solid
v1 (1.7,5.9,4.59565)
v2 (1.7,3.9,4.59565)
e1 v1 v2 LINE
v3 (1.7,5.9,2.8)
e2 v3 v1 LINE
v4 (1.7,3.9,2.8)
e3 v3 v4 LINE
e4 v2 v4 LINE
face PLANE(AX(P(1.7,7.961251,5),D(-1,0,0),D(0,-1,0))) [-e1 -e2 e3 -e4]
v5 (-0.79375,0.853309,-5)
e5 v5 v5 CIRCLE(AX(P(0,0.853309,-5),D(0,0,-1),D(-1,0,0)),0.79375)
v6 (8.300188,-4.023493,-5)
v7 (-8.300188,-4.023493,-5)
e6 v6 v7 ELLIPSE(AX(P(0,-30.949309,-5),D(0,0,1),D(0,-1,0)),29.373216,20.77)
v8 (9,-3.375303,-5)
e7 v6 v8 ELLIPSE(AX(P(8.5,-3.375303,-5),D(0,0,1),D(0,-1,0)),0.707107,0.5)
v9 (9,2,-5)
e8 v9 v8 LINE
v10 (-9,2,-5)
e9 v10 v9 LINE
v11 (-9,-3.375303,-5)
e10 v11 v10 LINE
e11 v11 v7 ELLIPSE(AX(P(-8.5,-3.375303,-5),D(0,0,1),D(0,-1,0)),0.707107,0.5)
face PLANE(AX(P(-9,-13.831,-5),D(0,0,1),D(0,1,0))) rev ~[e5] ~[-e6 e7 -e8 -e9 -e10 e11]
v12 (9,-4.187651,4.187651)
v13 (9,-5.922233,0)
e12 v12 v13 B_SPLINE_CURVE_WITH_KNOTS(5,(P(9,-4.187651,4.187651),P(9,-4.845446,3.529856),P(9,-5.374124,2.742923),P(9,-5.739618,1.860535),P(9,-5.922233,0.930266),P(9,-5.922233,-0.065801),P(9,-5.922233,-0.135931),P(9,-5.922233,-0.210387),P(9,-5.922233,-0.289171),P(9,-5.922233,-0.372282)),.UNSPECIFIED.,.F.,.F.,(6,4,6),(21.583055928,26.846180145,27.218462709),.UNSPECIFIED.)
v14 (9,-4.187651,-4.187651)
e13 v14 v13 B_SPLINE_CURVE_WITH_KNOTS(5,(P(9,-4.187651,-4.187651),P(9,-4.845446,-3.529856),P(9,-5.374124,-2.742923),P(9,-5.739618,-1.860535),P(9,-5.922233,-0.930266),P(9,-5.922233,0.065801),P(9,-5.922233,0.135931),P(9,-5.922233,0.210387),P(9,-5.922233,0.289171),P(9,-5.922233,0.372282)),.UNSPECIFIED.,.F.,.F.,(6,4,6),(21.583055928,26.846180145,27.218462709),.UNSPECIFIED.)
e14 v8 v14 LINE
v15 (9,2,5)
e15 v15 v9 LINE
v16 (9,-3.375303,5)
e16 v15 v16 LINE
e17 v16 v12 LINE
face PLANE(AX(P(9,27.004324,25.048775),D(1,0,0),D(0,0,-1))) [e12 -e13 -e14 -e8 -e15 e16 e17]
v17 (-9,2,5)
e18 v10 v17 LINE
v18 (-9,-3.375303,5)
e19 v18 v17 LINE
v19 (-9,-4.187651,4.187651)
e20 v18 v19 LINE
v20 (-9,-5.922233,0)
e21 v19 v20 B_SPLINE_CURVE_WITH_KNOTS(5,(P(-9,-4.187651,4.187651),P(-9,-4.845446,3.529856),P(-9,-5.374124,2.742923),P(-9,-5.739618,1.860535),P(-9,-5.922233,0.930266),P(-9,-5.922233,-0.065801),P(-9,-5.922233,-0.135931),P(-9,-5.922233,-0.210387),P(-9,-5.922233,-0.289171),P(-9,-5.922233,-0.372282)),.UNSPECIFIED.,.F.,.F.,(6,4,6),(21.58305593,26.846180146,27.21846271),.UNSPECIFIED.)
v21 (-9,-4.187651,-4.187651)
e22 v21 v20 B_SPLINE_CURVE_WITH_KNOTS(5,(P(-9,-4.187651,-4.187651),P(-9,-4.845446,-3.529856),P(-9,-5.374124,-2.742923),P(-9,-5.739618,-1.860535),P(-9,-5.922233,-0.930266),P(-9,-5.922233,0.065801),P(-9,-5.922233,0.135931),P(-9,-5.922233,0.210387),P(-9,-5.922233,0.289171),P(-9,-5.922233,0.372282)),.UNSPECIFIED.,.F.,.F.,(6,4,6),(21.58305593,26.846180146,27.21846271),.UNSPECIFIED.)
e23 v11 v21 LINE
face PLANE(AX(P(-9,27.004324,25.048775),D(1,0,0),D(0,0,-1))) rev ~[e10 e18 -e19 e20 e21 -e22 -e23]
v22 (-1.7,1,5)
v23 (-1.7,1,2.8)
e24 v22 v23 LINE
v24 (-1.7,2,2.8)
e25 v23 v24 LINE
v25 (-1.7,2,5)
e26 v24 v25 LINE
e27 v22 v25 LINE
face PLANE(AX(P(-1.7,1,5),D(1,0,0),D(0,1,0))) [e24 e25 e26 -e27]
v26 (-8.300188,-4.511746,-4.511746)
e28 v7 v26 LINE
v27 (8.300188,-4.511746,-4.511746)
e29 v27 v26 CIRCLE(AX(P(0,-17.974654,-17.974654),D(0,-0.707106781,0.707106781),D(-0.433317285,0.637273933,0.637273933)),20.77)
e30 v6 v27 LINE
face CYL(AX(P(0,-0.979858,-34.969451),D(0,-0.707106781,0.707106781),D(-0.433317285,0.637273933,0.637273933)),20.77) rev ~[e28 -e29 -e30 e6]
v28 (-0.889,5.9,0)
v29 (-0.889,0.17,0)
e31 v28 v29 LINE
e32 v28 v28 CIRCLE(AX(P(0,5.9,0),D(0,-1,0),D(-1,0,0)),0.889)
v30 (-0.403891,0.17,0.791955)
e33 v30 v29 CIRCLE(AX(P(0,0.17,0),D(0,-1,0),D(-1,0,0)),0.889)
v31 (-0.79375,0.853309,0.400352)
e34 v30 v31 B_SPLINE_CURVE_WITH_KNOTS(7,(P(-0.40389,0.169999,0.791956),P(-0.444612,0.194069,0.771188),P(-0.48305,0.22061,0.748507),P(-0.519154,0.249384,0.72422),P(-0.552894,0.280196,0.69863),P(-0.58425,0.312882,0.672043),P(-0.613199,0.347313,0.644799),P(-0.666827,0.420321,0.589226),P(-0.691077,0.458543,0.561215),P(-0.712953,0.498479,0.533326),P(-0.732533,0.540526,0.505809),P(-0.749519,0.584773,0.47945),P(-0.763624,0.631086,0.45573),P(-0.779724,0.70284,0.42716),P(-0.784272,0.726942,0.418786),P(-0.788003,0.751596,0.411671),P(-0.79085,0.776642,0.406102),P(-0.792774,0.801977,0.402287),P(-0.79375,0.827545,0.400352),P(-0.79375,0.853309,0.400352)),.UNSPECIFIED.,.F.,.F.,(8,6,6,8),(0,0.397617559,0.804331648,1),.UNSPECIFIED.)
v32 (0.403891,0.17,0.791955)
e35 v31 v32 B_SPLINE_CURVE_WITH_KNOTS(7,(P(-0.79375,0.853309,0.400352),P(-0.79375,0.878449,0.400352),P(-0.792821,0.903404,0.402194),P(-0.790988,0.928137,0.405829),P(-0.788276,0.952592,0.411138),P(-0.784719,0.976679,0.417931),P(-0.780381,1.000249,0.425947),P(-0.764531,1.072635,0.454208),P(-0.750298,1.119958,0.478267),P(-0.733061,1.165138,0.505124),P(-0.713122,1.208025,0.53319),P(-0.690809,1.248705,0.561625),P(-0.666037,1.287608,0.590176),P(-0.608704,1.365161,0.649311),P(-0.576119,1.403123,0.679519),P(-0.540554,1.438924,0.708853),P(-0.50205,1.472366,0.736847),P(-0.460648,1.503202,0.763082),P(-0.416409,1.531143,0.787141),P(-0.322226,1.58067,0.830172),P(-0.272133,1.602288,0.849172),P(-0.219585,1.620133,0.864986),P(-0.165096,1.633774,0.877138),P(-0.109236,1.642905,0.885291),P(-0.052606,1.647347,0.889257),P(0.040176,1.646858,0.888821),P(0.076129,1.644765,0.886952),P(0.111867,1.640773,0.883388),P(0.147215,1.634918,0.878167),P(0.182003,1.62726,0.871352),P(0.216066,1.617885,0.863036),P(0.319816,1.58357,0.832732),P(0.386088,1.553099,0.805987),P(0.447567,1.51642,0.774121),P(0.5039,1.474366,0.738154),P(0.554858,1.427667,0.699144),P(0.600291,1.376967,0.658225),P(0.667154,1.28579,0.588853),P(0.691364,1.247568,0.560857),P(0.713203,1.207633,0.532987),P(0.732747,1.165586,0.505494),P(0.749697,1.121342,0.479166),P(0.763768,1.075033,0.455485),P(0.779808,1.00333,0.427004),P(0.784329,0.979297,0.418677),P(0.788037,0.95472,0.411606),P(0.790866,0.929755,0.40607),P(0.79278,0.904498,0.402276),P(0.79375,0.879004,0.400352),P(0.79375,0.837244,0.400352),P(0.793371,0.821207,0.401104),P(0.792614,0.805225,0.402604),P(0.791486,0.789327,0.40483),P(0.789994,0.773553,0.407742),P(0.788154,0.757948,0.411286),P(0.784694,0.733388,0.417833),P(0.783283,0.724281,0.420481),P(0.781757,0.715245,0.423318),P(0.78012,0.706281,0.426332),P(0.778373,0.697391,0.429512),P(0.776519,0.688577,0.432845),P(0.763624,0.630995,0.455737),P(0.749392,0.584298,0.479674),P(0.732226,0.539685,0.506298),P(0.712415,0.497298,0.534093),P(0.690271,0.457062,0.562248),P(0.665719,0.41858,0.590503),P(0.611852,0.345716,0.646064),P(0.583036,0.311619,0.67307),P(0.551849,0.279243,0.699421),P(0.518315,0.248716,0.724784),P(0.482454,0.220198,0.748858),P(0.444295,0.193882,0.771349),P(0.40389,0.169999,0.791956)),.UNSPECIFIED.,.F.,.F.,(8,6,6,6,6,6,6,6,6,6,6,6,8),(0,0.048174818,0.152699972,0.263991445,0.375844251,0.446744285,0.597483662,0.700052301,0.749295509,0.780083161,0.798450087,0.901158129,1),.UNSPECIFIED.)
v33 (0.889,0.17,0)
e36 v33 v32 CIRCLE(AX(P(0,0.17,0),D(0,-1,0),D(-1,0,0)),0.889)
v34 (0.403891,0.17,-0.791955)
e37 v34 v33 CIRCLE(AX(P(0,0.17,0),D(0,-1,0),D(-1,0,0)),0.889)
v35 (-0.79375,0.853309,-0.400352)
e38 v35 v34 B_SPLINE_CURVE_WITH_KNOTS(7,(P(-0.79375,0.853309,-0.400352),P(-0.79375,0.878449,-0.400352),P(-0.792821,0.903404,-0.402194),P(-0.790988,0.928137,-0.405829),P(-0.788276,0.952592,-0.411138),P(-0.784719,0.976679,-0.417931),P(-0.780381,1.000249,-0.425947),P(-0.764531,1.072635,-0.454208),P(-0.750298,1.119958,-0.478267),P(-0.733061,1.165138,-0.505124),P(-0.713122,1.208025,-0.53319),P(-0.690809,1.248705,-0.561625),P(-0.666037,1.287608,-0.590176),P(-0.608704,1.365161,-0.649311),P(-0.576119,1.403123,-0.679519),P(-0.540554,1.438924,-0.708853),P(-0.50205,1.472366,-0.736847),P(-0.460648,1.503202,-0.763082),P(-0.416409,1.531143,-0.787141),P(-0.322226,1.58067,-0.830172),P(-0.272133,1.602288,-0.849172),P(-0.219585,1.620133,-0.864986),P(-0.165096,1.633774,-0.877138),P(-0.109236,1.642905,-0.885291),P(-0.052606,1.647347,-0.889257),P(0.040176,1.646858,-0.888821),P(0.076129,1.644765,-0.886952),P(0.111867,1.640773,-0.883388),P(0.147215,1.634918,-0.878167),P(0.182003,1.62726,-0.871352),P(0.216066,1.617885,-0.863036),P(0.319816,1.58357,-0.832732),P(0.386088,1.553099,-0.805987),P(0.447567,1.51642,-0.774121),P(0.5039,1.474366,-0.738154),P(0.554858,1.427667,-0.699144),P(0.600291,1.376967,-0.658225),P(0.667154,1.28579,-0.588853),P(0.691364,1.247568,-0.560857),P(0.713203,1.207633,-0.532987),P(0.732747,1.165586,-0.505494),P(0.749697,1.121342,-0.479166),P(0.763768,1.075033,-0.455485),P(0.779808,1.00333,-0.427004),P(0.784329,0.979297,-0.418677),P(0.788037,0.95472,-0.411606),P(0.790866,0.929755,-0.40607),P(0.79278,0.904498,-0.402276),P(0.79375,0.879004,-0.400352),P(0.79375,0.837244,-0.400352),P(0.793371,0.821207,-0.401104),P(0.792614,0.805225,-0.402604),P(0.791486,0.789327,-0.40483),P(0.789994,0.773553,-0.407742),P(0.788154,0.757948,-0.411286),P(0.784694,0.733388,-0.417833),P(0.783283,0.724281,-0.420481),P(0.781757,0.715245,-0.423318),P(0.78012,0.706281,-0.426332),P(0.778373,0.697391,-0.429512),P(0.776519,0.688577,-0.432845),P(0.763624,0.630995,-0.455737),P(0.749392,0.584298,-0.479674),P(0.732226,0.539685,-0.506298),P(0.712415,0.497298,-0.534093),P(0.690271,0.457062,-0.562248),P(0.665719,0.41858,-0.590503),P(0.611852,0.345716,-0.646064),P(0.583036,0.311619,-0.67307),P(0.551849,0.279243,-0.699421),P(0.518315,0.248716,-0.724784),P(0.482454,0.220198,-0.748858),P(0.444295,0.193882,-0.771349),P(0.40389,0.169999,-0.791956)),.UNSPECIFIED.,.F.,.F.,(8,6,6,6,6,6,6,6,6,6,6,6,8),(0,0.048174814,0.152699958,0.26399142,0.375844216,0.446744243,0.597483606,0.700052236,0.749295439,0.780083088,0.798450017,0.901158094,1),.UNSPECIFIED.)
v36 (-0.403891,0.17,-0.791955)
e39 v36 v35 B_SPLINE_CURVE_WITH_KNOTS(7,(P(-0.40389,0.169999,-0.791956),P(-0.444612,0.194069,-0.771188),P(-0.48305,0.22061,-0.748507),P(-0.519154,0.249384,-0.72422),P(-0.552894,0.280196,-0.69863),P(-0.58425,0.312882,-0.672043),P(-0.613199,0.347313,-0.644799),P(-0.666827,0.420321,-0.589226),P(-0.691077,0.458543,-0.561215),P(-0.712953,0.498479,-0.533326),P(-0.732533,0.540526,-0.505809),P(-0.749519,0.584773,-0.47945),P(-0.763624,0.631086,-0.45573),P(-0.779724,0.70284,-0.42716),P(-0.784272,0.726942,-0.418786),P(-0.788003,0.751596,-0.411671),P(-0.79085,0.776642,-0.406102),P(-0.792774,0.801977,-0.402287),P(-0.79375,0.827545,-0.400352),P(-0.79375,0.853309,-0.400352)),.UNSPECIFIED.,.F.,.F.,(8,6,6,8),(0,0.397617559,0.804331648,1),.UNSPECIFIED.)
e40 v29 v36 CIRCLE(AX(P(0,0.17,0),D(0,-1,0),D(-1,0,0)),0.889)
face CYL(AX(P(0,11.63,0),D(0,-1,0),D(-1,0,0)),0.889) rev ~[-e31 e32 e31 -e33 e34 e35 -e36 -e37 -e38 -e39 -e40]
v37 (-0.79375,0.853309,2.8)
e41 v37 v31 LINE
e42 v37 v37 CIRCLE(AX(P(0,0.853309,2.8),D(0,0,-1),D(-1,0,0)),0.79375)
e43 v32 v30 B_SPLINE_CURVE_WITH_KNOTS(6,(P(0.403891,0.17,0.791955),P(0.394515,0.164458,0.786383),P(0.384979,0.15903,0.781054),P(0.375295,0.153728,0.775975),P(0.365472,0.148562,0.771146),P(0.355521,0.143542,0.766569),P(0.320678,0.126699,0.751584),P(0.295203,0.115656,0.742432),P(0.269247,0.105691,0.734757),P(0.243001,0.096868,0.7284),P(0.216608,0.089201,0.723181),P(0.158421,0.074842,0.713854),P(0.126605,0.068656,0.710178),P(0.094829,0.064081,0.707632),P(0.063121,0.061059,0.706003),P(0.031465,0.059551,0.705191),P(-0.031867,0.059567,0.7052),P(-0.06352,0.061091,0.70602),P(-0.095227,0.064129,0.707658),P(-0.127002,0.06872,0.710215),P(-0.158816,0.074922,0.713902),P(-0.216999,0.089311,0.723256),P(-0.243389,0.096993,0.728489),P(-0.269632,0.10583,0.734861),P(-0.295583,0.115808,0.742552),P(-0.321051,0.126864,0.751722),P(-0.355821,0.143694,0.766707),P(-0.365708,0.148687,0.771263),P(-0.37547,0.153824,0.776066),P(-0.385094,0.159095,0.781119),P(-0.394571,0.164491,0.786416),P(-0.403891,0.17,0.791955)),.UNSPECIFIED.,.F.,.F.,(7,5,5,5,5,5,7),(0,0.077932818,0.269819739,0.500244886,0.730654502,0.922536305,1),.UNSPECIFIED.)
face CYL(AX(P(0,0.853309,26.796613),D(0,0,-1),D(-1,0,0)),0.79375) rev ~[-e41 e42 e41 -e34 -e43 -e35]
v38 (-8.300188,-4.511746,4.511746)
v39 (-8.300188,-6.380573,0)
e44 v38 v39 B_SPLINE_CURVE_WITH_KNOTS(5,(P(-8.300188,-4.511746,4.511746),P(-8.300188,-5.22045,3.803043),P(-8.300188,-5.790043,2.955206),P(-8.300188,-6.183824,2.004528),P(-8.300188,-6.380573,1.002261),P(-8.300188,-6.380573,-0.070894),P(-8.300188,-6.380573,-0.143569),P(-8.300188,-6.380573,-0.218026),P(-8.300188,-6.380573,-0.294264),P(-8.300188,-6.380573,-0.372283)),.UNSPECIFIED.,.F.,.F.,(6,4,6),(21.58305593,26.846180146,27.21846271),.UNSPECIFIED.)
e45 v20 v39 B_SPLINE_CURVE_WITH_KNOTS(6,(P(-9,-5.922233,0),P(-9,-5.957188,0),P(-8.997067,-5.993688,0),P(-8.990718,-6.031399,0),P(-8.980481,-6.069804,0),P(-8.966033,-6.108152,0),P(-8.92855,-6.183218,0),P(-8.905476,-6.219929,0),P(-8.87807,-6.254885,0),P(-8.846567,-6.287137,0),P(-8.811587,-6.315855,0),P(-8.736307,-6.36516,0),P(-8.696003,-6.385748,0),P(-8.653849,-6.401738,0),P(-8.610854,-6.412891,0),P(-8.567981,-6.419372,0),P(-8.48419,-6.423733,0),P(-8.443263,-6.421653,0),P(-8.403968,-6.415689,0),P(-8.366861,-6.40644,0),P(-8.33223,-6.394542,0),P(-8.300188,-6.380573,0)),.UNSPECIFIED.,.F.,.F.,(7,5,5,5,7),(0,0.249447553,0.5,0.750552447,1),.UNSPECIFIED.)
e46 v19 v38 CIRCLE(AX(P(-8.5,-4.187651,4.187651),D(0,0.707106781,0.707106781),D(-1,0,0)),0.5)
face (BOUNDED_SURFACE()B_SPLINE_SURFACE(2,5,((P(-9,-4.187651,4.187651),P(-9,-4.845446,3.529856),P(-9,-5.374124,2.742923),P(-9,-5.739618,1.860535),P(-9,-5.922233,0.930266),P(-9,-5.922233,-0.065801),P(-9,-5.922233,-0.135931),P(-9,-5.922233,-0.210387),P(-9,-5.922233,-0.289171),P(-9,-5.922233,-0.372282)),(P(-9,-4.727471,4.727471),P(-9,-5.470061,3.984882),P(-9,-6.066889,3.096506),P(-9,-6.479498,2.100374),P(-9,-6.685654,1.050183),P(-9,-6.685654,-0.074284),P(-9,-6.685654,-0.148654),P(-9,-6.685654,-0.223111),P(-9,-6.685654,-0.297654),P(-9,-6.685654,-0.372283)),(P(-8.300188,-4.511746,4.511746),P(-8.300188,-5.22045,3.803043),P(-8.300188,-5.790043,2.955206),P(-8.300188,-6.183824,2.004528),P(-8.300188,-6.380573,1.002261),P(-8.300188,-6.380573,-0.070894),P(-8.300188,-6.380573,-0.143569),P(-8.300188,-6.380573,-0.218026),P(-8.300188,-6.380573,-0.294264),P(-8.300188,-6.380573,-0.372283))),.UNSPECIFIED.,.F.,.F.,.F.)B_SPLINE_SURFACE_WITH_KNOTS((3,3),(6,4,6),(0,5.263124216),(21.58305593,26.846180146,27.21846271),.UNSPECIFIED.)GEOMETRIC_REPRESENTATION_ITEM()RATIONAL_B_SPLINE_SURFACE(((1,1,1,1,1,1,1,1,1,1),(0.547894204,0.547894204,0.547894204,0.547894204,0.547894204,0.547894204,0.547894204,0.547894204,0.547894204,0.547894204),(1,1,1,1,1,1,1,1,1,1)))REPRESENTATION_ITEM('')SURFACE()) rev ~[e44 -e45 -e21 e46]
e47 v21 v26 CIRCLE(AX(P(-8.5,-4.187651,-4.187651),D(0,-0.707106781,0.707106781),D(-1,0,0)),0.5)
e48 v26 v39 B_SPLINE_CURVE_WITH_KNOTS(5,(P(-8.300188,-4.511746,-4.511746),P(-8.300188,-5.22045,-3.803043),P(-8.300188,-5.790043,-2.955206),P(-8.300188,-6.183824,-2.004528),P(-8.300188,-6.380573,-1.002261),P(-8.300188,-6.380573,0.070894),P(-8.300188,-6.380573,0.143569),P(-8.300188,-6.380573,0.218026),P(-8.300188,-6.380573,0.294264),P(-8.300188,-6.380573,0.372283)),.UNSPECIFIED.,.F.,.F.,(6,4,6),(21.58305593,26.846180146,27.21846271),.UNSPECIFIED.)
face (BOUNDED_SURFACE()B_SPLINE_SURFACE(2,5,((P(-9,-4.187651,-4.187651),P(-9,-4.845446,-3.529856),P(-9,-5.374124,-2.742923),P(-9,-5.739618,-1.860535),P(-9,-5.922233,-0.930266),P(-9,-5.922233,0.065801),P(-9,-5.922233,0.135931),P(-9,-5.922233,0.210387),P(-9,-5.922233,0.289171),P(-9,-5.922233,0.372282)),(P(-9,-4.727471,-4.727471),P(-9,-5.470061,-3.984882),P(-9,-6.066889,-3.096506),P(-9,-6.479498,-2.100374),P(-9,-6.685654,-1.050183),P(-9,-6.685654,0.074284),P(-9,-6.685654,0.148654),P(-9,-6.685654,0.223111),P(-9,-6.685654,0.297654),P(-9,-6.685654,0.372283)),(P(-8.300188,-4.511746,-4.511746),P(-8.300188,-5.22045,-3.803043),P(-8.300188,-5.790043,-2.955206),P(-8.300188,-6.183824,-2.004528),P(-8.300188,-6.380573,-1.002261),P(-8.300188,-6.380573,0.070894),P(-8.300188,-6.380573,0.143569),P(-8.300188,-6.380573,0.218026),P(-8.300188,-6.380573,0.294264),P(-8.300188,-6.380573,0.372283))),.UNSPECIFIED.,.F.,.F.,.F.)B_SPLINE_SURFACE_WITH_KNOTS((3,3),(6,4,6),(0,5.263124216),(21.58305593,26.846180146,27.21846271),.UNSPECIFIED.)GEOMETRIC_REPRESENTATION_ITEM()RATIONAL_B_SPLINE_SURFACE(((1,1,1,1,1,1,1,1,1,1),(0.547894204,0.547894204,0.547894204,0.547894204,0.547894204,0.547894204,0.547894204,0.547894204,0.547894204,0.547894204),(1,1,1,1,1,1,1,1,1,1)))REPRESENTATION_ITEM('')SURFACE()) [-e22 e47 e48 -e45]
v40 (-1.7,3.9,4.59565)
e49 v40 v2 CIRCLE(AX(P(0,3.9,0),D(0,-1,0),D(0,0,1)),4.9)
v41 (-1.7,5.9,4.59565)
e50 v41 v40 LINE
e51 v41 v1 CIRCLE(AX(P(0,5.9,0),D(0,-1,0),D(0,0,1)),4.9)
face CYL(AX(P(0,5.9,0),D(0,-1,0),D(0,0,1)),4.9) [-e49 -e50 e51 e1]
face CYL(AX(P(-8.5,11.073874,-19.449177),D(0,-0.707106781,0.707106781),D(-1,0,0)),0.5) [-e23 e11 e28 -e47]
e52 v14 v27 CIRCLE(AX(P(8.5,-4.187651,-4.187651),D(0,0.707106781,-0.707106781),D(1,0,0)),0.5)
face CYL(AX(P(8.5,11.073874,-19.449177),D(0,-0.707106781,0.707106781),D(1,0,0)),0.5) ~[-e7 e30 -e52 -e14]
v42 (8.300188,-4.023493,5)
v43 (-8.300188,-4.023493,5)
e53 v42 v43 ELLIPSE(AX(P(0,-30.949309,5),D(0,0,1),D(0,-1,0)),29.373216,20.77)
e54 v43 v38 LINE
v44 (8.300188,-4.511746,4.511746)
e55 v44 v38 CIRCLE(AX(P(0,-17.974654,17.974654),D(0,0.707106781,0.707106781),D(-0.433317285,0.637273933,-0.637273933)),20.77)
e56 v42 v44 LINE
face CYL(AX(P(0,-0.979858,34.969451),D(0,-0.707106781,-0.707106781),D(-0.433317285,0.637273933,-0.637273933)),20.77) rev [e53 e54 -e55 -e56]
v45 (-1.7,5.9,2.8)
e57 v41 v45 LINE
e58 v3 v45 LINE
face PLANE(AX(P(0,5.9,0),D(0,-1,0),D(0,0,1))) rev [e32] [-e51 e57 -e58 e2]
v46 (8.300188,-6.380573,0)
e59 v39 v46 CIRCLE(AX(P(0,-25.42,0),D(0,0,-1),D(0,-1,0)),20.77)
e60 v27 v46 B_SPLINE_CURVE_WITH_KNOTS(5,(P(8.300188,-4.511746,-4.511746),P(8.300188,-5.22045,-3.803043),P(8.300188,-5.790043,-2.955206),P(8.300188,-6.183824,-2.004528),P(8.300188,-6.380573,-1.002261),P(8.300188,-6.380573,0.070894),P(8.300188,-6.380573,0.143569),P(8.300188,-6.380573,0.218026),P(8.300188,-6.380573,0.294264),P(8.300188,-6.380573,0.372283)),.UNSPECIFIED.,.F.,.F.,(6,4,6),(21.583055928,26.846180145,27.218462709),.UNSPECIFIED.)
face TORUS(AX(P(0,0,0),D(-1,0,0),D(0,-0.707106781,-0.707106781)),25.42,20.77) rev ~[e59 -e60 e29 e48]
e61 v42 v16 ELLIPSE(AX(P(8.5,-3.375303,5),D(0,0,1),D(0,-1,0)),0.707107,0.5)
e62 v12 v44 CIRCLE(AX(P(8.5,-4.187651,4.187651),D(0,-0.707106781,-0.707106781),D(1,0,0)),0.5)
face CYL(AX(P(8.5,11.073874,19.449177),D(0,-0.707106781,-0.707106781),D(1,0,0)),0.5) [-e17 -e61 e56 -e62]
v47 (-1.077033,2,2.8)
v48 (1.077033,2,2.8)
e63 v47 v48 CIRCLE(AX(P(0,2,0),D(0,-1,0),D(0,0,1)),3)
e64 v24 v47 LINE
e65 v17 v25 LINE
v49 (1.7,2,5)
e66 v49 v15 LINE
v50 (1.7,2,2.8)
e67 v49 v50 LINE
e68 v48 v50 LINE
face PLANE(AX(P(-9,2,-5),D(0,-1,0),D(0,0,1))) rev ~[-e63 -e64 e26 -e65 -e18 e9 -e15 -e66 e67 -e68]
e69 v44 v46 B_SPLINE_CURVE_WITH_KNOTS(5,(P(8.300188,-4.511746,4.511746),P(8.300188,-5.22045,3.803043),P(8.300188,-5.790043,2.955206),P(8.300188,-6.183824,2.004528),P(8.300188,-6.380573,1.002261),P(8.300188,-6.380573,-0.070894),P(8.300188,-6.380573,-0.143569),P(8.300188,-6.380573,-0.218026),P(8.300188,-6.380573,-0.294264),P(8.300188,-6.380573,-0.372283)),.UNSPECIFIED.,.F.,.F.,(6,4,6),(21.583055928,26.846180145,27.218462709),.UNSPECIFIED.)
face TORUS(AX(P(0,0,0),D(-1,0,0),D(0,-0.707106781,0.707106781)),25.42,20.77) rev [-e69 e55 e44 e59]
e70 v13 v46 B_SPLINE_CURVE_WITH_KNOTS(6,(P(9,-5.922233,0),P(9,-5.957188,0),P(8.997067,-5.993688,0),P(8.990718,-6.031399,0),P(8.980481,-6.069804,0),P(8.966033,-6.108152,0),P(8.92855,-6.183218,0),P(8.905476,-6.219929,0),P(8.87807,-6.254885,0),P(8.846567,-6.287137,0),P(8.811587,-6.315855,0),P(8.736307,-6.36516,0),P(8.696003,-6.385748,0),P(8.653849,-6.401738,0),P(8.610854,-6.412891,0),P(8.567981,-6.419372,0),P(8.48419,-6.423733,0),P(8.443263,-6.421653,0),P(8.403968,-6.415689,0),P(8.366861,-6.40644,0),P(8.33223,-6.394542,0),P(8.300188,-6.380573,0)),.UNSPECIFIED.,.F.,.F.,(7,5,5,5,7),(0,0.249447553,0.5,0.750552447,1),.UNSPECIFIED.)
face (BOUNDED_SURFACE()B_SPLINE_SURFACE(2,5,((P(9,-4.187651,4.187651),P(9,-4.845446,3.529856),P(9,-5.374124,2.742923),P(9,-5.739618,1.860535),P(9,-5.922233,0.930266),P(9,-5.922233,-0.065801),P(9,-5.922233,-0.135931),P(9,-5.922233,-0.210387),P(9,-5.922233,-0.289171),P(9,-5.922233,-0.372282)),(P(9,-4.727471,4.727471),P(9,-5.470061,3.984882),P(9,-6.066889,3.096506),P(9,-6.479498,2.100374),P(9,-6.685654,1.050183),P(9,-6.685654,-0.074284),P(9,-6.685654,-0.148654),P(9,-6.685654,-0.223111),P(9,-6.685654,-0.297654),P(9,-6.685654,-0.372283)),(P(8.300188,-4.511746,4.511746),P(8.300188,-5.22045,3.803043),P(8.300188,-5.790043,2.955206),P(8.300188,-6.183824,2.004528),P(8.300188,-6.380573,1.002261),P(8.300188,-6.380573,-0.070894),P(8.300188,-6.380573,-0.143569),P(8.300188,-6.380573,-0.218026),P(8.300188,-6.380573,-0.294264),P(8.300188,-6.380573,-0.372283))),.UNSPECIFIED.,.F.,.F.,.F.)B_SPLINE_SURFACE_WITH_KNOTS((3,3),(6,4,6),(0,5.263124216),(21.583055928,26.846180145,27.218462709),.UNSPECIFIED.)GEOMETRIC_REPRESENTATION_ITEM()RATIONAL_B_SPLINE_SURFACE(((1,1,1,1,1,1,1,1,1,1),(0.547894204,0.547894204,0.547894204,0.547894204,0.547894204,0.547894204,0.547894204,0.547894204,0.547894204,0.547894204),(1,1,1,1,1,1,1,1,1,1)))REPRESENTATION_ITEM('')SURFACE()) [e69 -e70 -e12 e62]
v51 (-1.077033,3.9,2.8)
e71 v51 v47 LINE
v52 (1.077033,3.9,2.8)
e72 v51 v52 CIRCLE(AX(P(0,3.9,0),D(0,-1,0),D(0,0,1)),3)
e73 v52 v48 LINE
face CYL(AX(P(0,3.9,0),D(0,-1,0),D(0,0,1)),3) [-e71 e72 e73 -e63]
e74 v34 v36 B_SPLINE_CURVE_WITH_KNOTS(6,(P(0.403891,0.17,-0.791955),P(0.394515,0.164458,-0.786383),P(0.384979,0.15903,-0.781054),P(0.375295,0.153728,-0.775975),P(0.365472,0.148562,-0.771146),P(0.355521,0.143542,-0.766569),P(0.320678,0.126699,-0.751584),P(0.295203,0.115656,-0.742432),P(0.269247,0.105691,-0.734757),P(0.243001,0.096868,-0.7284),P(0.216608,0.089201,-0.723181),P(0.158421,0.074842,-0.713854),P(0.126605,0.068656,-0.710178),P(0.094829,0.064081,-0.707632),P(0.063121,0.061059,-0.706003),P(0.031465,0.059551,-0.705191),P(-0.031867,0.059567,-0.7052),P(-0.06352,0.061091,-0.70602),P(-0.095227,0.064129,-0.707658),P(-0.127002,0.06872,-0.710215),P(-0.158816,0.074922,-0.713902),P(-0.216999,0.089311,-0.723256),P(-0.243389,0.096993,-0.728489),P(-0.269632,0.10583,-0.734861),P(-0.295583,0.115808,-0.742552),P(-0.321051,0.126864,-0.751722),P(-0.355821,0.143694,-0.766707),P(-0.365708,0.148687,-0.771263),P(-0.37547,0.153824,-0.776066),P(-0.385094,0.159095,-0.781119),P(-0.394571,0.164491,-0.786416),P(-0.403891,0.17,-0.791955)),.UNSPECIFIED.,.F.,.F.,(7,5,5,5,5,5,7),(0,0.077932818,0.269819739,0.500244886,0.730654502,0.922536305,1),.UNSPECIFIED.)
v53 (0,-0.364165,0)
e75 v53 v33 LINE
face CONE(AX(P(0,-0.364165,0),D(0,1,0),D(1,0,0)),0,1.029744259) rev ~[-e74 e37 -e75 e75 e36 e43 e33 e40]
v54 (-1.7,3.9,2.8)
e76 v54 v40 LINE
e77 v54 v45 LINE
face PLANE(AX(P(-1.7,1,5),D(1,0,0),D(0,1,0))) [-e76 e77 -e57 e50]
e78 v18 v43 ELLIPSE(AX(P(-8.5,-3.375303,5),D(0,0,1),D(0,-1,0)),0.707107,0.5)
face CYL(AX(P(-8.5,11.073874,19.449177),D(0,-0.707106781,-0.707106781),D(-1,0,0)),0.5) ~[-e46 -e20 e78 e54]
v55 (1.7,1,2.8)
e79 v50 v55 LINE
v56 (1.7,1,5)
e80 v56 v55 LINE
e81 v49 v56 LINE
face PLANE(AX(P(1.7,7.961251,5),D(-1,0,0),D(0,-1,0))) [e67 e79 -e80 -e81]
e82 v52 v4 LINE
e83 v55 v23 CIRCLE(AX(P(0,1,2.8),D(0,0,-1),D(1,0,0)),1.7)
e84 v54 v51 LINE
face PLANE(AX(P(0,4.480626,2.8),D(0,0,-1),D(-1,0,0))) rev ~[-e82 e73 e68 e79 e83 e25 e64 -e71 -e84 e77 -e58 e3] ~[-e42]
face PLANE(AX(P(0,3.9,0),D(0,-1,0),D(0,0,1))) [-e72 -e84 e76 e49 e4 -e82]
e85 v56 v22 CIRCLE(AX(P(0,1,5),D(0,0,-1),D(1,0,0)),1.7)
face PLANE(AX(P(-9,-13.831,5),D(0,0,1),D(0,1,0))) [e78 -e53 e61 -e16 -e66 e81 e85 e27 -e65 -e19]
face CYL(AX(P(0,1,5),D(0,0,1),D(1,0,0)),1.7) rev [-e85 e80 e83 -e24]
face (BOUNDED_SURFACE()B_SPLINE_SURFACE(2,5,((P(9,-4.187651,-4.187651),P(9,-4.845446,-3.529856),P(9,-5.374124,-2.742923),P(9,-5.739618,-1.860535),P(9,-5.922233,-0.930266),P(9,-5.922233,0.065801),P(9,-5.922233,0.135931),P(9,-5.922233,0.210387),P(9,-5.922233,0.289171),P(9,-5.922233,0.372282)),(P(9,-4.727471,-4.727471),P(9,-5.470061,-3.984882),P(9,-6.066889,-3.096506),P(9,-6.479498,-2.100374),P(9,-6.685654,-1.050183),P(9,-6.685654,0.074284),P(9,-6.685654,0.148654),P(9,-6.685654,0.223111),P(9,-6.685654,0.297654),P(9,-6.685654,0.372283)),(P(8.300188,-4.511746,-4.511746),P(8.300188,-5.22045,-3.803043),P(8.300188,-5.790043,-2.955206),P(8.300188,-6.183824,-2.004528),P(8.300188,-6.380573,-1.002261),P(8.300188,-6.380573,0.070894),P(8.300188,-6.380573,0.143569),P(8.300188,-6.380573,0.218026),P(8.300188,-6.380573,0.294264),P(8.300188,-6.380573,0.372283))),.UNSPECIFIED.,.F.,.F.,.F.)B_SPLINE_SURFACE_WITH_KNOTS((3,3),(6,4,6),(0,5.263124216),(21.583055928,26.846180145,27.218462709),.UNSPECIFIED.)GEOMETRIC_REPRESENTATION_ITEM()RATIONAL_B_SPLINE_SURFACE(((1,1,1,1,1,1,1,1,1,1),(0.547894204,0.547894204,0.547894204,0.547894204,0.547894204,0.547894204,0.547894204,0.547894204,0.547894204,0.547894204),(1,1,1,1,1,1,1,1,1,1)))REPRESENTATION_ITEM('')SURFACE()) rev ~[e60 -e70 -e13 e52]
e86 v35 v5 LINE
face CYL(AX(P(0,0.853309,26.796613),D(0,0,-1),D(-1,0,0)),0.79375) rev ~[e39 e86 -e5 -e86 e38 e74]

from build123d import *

# Parameters (mm, degrees)
BOSS_EXTRUDE1_DEPTH            = 9
SKETCH4_W                      = 18
SKETCH4_H                      = 44.313566923
CUT_EXTRUDE3_DEPTH             = 6
FILLET1_R                      = 0.5
CUT_EXTRUDE4_DEPTH             = 20
CUT_EXTRUDE5_DEPTH             = 19.0000001
BOSS_EXTRUDE2_DEPTH            = 18
FILLET2_R                      = 3
SKETCH11_OUTSIDE_W             = 65.077
SKETCH11_OUTSIDE_H             = 50.285
SKETCH11_OUTSIDE_W_2           = 10
SKETCH11_OUTSIDE_H_2           = 20
CUT_EXTRUDE6_DEPTH             = 19.0000001
F_2_56_TAPPED_HOLE1_D          = 1.778
F_2_56_TAPPED_HOLE1_DEPTH      = 5.73
F_2_56_TAPPED_HOLE1_TIP        = 0.53416509
CUT_EXTRUDE7_DEPTH             = 2.2
F_1_16_0_0625_DIAMETER_HOLE1_D = 1.5875


with BuildPart() as part:
    # Sketch1 → Boss-Extrude1 (new body, symmetric)
    with BuildSketch(Plane(origin=(0, 0, 0), x_dir=(0, 0, -1), z_dir=(1, 0, 0))):
        with BuildLine():
            Line((3.00520382, -3.00520382), (20, 13.98959236))
            Line((20, 13.98959236), (20, 30))
            Line((20, 30), (0, 30))
            Line((0, 30), (0, -4.25))
            ThreePointArc((0, -4.25), (1.626404588, -3.926488013), (3.00520382, -3.00520382))
        make_face()
    extrude(amount=BOSS_EXTRUDE1_DEPTH, both=True)

    # Sweep1: sweep along a path in Sketch2
    with BuildLine(Plane(origin=(0, 0, 0), x_dir=(0, 0, -1), z_dir=(1, 0, 0))) as sweep1_path:
        Line((20, 13.98959236), (3.00520382, -3.00520382))
        ThreePointArc((3.00520382, -3.00520382), (1.626404588, -3.926488013), (0, -4.25))
    # Sketch3 → Sweep1 (sweep)
    with BuildSketch(Plane.XY):
        with BuildLine():
            Line((9, -4.25), (-9, -4.25))
            Line((-9, -4.25), (-9, -6.701215317))
            ThreePointArc((-9, -6.701215317), (0, -4.65), (9, -6.701215317))
            Line((9, -6.701215317), (9, -4.25))
        make_face()
    sweep(path=sweep1_path.line)

    # Sketch4 → Cut-Extrude3 (cut)
    with BuildSketch(Plane(origin=(0, 0, -20), x_dir=(-1, 0, 0), z_dir=(0, 0, -1))):
        with Locations((0, 7.843216539)):
            Rectangle(SKETCH4_W, SKETCH4_H)
    extrude(amount=CUT_EXTRUDE3_DEPTH, mode=Mode.SUBTRACT)

    # Fillet1
    fillet1_edges = [part.edges().sort_by_distance(p)[0] for p in [
        (9, 2.89228781, -12.369237397),
        (-9, 2.89228781, -12.369237397),
        (9, -6.191115675, -2.564444079),
        (-9, -6.191115675, -2.564444079),
    ]]
    fillet(fillet1_edges, radius=FILLET1_R)

    # Mirror1: part across plane


with BuildPart() as part_1:
    add(part.part)
    add(part.part.mirror(Plane(origin=(9, 30, 0), x_dir=(1, 0, 0), z_dir=(0, 0, -1))))

    # Sketch5 → Cut-Extrude4 (cut, symmetric)
    with BuildSketch(Plane(origin=(0, 0, 0), x_dir=(0, 0, -1), z_dir=(1, 0, 0))):
        Polygon((20, 16), (-7.485561137, 10.657348129), (-11.245391787, 30), (20, 30), align=None)
    extrude(amount=CUT_EXTRUDE4_DEPTH, both=True, mode=Mode.SUBTRACT)

    # Sketch8 → Cut-Extrude5 (cut, through all)
    with BuildSketch(Plane.ZY.offset(9)):
        Polygon((10.6659344, 27.018950173), (20, 28), (20, 30), (11.245391787, 30), align=None)
    extrude(amount=-CUT_EXTRUDE5_DEPTH, mode=Mode.SUBTRACT)

    # Sketch10 → Boss-Extrude2 (add)
    with BuildSketch(Plane.ZY.offset(9)):
        Polygon((20, 28), (29.945218954, 29.045284633), (30.258804343, 26.061718947), (20, 24.983475161), align=None)
    extrude(amount=-BOSS_EXTRUDE2_DEPTH)

    # Fillet2
    fillet2_edges = [part_1.edges().sort_by_distance(p)[0] for p in [
        (0, 24.983475161, 20),
        (0, 10.657348129, 7.485561137),
    ]]
    fillet(fillet2_edges, radius=FILLET2_R)

    # Sketch11 outside → Cut-Extrude6 (cut, through all)
    with BuildSketch(Plane.ZY.offset(9)):
        with Locations((5.1295, 11.3115)):
            Rectangle(SKETCH11_OUTSIDE_W, SKETCH11_OUTSIDE_H)
        with Locations((0, -8)):
            Rectangle(SKETCH11_OUTSIDE_W_2, SKETCH11_OUTSIDE_H_2, mode=Mode.SUBTRACT)
    extrude(amount=-CUT_EXTRUDE6_DEPTH, mode=Mode.SUBTRACT)

    # Sketch13 → Revolve1 (revolve)
    with BuildSketch(Plane(origin=(0, 0, 0), x_dir=(0, 0, -1), z_dir=(1, 0, 0))):
        Polygon((0, 2), (0, 5.9), (-4.9, 5.9), (-4.9, 3.9), (-3, 3.9), (-3, 2), align=None)
    revolve(axis=Axis((0, 0, 0), (0, -1, 0)))

    # #2-56 Tapped Hole1
    with Locations(Plane(origin=(0, 5.9, 0), x_dir=(1, 0, 0), z_dir=(0, 1, 0))):
        with Locations((0, 0)):
            Hole(F_2_56_TAPPED_HOLE1_D / 2, depth=F_2_56_TAPPED_HOLE1_DEPTH)
            with Locations((0, 0, -(F_2_56_TAPPED_HOLE1_DEPTH + F_2_56_TAPPED_HOLE1_TIP / 2))):  # 118° drill point
                Cone(0, F_2_56_TAPPED_HOLE1_D / 2, F_2_56_TAPPED_HOLE1_TIP, mode=Mode.SUBTRACT)

    # Sketch16 → Cut-Extrude7 (cut)
    with BuildSketch(Plane.XY.offset(5)):
        with BuildLine():
            Line((1.7, 7.96125108), (1.7, 1))
            ThreePointArc((1.7, 1), (0, -0.7), (-1.7, 1))
            Line((-1.7, 1), (-1.7, 7.96125108))
            ThreePointArc((-1.7, 7.96125108), (0, 9.66125108), (1.7, 7.96125108))
        make_face()
    extrude(amount=-CUT_EXTRUDE7_DEPTH, mode=Mode.SUBTRACT)

    # 1/16 (0.0625) Diameter Hole1 (through all)
    with Locations(Plane.XY.offset(2.8)):
        with Locations((0, 0.853308914)):
            Hole(F_1_16_0_0625_DIAMETER_HOLE1_D / 2)


solid = part_1.part
